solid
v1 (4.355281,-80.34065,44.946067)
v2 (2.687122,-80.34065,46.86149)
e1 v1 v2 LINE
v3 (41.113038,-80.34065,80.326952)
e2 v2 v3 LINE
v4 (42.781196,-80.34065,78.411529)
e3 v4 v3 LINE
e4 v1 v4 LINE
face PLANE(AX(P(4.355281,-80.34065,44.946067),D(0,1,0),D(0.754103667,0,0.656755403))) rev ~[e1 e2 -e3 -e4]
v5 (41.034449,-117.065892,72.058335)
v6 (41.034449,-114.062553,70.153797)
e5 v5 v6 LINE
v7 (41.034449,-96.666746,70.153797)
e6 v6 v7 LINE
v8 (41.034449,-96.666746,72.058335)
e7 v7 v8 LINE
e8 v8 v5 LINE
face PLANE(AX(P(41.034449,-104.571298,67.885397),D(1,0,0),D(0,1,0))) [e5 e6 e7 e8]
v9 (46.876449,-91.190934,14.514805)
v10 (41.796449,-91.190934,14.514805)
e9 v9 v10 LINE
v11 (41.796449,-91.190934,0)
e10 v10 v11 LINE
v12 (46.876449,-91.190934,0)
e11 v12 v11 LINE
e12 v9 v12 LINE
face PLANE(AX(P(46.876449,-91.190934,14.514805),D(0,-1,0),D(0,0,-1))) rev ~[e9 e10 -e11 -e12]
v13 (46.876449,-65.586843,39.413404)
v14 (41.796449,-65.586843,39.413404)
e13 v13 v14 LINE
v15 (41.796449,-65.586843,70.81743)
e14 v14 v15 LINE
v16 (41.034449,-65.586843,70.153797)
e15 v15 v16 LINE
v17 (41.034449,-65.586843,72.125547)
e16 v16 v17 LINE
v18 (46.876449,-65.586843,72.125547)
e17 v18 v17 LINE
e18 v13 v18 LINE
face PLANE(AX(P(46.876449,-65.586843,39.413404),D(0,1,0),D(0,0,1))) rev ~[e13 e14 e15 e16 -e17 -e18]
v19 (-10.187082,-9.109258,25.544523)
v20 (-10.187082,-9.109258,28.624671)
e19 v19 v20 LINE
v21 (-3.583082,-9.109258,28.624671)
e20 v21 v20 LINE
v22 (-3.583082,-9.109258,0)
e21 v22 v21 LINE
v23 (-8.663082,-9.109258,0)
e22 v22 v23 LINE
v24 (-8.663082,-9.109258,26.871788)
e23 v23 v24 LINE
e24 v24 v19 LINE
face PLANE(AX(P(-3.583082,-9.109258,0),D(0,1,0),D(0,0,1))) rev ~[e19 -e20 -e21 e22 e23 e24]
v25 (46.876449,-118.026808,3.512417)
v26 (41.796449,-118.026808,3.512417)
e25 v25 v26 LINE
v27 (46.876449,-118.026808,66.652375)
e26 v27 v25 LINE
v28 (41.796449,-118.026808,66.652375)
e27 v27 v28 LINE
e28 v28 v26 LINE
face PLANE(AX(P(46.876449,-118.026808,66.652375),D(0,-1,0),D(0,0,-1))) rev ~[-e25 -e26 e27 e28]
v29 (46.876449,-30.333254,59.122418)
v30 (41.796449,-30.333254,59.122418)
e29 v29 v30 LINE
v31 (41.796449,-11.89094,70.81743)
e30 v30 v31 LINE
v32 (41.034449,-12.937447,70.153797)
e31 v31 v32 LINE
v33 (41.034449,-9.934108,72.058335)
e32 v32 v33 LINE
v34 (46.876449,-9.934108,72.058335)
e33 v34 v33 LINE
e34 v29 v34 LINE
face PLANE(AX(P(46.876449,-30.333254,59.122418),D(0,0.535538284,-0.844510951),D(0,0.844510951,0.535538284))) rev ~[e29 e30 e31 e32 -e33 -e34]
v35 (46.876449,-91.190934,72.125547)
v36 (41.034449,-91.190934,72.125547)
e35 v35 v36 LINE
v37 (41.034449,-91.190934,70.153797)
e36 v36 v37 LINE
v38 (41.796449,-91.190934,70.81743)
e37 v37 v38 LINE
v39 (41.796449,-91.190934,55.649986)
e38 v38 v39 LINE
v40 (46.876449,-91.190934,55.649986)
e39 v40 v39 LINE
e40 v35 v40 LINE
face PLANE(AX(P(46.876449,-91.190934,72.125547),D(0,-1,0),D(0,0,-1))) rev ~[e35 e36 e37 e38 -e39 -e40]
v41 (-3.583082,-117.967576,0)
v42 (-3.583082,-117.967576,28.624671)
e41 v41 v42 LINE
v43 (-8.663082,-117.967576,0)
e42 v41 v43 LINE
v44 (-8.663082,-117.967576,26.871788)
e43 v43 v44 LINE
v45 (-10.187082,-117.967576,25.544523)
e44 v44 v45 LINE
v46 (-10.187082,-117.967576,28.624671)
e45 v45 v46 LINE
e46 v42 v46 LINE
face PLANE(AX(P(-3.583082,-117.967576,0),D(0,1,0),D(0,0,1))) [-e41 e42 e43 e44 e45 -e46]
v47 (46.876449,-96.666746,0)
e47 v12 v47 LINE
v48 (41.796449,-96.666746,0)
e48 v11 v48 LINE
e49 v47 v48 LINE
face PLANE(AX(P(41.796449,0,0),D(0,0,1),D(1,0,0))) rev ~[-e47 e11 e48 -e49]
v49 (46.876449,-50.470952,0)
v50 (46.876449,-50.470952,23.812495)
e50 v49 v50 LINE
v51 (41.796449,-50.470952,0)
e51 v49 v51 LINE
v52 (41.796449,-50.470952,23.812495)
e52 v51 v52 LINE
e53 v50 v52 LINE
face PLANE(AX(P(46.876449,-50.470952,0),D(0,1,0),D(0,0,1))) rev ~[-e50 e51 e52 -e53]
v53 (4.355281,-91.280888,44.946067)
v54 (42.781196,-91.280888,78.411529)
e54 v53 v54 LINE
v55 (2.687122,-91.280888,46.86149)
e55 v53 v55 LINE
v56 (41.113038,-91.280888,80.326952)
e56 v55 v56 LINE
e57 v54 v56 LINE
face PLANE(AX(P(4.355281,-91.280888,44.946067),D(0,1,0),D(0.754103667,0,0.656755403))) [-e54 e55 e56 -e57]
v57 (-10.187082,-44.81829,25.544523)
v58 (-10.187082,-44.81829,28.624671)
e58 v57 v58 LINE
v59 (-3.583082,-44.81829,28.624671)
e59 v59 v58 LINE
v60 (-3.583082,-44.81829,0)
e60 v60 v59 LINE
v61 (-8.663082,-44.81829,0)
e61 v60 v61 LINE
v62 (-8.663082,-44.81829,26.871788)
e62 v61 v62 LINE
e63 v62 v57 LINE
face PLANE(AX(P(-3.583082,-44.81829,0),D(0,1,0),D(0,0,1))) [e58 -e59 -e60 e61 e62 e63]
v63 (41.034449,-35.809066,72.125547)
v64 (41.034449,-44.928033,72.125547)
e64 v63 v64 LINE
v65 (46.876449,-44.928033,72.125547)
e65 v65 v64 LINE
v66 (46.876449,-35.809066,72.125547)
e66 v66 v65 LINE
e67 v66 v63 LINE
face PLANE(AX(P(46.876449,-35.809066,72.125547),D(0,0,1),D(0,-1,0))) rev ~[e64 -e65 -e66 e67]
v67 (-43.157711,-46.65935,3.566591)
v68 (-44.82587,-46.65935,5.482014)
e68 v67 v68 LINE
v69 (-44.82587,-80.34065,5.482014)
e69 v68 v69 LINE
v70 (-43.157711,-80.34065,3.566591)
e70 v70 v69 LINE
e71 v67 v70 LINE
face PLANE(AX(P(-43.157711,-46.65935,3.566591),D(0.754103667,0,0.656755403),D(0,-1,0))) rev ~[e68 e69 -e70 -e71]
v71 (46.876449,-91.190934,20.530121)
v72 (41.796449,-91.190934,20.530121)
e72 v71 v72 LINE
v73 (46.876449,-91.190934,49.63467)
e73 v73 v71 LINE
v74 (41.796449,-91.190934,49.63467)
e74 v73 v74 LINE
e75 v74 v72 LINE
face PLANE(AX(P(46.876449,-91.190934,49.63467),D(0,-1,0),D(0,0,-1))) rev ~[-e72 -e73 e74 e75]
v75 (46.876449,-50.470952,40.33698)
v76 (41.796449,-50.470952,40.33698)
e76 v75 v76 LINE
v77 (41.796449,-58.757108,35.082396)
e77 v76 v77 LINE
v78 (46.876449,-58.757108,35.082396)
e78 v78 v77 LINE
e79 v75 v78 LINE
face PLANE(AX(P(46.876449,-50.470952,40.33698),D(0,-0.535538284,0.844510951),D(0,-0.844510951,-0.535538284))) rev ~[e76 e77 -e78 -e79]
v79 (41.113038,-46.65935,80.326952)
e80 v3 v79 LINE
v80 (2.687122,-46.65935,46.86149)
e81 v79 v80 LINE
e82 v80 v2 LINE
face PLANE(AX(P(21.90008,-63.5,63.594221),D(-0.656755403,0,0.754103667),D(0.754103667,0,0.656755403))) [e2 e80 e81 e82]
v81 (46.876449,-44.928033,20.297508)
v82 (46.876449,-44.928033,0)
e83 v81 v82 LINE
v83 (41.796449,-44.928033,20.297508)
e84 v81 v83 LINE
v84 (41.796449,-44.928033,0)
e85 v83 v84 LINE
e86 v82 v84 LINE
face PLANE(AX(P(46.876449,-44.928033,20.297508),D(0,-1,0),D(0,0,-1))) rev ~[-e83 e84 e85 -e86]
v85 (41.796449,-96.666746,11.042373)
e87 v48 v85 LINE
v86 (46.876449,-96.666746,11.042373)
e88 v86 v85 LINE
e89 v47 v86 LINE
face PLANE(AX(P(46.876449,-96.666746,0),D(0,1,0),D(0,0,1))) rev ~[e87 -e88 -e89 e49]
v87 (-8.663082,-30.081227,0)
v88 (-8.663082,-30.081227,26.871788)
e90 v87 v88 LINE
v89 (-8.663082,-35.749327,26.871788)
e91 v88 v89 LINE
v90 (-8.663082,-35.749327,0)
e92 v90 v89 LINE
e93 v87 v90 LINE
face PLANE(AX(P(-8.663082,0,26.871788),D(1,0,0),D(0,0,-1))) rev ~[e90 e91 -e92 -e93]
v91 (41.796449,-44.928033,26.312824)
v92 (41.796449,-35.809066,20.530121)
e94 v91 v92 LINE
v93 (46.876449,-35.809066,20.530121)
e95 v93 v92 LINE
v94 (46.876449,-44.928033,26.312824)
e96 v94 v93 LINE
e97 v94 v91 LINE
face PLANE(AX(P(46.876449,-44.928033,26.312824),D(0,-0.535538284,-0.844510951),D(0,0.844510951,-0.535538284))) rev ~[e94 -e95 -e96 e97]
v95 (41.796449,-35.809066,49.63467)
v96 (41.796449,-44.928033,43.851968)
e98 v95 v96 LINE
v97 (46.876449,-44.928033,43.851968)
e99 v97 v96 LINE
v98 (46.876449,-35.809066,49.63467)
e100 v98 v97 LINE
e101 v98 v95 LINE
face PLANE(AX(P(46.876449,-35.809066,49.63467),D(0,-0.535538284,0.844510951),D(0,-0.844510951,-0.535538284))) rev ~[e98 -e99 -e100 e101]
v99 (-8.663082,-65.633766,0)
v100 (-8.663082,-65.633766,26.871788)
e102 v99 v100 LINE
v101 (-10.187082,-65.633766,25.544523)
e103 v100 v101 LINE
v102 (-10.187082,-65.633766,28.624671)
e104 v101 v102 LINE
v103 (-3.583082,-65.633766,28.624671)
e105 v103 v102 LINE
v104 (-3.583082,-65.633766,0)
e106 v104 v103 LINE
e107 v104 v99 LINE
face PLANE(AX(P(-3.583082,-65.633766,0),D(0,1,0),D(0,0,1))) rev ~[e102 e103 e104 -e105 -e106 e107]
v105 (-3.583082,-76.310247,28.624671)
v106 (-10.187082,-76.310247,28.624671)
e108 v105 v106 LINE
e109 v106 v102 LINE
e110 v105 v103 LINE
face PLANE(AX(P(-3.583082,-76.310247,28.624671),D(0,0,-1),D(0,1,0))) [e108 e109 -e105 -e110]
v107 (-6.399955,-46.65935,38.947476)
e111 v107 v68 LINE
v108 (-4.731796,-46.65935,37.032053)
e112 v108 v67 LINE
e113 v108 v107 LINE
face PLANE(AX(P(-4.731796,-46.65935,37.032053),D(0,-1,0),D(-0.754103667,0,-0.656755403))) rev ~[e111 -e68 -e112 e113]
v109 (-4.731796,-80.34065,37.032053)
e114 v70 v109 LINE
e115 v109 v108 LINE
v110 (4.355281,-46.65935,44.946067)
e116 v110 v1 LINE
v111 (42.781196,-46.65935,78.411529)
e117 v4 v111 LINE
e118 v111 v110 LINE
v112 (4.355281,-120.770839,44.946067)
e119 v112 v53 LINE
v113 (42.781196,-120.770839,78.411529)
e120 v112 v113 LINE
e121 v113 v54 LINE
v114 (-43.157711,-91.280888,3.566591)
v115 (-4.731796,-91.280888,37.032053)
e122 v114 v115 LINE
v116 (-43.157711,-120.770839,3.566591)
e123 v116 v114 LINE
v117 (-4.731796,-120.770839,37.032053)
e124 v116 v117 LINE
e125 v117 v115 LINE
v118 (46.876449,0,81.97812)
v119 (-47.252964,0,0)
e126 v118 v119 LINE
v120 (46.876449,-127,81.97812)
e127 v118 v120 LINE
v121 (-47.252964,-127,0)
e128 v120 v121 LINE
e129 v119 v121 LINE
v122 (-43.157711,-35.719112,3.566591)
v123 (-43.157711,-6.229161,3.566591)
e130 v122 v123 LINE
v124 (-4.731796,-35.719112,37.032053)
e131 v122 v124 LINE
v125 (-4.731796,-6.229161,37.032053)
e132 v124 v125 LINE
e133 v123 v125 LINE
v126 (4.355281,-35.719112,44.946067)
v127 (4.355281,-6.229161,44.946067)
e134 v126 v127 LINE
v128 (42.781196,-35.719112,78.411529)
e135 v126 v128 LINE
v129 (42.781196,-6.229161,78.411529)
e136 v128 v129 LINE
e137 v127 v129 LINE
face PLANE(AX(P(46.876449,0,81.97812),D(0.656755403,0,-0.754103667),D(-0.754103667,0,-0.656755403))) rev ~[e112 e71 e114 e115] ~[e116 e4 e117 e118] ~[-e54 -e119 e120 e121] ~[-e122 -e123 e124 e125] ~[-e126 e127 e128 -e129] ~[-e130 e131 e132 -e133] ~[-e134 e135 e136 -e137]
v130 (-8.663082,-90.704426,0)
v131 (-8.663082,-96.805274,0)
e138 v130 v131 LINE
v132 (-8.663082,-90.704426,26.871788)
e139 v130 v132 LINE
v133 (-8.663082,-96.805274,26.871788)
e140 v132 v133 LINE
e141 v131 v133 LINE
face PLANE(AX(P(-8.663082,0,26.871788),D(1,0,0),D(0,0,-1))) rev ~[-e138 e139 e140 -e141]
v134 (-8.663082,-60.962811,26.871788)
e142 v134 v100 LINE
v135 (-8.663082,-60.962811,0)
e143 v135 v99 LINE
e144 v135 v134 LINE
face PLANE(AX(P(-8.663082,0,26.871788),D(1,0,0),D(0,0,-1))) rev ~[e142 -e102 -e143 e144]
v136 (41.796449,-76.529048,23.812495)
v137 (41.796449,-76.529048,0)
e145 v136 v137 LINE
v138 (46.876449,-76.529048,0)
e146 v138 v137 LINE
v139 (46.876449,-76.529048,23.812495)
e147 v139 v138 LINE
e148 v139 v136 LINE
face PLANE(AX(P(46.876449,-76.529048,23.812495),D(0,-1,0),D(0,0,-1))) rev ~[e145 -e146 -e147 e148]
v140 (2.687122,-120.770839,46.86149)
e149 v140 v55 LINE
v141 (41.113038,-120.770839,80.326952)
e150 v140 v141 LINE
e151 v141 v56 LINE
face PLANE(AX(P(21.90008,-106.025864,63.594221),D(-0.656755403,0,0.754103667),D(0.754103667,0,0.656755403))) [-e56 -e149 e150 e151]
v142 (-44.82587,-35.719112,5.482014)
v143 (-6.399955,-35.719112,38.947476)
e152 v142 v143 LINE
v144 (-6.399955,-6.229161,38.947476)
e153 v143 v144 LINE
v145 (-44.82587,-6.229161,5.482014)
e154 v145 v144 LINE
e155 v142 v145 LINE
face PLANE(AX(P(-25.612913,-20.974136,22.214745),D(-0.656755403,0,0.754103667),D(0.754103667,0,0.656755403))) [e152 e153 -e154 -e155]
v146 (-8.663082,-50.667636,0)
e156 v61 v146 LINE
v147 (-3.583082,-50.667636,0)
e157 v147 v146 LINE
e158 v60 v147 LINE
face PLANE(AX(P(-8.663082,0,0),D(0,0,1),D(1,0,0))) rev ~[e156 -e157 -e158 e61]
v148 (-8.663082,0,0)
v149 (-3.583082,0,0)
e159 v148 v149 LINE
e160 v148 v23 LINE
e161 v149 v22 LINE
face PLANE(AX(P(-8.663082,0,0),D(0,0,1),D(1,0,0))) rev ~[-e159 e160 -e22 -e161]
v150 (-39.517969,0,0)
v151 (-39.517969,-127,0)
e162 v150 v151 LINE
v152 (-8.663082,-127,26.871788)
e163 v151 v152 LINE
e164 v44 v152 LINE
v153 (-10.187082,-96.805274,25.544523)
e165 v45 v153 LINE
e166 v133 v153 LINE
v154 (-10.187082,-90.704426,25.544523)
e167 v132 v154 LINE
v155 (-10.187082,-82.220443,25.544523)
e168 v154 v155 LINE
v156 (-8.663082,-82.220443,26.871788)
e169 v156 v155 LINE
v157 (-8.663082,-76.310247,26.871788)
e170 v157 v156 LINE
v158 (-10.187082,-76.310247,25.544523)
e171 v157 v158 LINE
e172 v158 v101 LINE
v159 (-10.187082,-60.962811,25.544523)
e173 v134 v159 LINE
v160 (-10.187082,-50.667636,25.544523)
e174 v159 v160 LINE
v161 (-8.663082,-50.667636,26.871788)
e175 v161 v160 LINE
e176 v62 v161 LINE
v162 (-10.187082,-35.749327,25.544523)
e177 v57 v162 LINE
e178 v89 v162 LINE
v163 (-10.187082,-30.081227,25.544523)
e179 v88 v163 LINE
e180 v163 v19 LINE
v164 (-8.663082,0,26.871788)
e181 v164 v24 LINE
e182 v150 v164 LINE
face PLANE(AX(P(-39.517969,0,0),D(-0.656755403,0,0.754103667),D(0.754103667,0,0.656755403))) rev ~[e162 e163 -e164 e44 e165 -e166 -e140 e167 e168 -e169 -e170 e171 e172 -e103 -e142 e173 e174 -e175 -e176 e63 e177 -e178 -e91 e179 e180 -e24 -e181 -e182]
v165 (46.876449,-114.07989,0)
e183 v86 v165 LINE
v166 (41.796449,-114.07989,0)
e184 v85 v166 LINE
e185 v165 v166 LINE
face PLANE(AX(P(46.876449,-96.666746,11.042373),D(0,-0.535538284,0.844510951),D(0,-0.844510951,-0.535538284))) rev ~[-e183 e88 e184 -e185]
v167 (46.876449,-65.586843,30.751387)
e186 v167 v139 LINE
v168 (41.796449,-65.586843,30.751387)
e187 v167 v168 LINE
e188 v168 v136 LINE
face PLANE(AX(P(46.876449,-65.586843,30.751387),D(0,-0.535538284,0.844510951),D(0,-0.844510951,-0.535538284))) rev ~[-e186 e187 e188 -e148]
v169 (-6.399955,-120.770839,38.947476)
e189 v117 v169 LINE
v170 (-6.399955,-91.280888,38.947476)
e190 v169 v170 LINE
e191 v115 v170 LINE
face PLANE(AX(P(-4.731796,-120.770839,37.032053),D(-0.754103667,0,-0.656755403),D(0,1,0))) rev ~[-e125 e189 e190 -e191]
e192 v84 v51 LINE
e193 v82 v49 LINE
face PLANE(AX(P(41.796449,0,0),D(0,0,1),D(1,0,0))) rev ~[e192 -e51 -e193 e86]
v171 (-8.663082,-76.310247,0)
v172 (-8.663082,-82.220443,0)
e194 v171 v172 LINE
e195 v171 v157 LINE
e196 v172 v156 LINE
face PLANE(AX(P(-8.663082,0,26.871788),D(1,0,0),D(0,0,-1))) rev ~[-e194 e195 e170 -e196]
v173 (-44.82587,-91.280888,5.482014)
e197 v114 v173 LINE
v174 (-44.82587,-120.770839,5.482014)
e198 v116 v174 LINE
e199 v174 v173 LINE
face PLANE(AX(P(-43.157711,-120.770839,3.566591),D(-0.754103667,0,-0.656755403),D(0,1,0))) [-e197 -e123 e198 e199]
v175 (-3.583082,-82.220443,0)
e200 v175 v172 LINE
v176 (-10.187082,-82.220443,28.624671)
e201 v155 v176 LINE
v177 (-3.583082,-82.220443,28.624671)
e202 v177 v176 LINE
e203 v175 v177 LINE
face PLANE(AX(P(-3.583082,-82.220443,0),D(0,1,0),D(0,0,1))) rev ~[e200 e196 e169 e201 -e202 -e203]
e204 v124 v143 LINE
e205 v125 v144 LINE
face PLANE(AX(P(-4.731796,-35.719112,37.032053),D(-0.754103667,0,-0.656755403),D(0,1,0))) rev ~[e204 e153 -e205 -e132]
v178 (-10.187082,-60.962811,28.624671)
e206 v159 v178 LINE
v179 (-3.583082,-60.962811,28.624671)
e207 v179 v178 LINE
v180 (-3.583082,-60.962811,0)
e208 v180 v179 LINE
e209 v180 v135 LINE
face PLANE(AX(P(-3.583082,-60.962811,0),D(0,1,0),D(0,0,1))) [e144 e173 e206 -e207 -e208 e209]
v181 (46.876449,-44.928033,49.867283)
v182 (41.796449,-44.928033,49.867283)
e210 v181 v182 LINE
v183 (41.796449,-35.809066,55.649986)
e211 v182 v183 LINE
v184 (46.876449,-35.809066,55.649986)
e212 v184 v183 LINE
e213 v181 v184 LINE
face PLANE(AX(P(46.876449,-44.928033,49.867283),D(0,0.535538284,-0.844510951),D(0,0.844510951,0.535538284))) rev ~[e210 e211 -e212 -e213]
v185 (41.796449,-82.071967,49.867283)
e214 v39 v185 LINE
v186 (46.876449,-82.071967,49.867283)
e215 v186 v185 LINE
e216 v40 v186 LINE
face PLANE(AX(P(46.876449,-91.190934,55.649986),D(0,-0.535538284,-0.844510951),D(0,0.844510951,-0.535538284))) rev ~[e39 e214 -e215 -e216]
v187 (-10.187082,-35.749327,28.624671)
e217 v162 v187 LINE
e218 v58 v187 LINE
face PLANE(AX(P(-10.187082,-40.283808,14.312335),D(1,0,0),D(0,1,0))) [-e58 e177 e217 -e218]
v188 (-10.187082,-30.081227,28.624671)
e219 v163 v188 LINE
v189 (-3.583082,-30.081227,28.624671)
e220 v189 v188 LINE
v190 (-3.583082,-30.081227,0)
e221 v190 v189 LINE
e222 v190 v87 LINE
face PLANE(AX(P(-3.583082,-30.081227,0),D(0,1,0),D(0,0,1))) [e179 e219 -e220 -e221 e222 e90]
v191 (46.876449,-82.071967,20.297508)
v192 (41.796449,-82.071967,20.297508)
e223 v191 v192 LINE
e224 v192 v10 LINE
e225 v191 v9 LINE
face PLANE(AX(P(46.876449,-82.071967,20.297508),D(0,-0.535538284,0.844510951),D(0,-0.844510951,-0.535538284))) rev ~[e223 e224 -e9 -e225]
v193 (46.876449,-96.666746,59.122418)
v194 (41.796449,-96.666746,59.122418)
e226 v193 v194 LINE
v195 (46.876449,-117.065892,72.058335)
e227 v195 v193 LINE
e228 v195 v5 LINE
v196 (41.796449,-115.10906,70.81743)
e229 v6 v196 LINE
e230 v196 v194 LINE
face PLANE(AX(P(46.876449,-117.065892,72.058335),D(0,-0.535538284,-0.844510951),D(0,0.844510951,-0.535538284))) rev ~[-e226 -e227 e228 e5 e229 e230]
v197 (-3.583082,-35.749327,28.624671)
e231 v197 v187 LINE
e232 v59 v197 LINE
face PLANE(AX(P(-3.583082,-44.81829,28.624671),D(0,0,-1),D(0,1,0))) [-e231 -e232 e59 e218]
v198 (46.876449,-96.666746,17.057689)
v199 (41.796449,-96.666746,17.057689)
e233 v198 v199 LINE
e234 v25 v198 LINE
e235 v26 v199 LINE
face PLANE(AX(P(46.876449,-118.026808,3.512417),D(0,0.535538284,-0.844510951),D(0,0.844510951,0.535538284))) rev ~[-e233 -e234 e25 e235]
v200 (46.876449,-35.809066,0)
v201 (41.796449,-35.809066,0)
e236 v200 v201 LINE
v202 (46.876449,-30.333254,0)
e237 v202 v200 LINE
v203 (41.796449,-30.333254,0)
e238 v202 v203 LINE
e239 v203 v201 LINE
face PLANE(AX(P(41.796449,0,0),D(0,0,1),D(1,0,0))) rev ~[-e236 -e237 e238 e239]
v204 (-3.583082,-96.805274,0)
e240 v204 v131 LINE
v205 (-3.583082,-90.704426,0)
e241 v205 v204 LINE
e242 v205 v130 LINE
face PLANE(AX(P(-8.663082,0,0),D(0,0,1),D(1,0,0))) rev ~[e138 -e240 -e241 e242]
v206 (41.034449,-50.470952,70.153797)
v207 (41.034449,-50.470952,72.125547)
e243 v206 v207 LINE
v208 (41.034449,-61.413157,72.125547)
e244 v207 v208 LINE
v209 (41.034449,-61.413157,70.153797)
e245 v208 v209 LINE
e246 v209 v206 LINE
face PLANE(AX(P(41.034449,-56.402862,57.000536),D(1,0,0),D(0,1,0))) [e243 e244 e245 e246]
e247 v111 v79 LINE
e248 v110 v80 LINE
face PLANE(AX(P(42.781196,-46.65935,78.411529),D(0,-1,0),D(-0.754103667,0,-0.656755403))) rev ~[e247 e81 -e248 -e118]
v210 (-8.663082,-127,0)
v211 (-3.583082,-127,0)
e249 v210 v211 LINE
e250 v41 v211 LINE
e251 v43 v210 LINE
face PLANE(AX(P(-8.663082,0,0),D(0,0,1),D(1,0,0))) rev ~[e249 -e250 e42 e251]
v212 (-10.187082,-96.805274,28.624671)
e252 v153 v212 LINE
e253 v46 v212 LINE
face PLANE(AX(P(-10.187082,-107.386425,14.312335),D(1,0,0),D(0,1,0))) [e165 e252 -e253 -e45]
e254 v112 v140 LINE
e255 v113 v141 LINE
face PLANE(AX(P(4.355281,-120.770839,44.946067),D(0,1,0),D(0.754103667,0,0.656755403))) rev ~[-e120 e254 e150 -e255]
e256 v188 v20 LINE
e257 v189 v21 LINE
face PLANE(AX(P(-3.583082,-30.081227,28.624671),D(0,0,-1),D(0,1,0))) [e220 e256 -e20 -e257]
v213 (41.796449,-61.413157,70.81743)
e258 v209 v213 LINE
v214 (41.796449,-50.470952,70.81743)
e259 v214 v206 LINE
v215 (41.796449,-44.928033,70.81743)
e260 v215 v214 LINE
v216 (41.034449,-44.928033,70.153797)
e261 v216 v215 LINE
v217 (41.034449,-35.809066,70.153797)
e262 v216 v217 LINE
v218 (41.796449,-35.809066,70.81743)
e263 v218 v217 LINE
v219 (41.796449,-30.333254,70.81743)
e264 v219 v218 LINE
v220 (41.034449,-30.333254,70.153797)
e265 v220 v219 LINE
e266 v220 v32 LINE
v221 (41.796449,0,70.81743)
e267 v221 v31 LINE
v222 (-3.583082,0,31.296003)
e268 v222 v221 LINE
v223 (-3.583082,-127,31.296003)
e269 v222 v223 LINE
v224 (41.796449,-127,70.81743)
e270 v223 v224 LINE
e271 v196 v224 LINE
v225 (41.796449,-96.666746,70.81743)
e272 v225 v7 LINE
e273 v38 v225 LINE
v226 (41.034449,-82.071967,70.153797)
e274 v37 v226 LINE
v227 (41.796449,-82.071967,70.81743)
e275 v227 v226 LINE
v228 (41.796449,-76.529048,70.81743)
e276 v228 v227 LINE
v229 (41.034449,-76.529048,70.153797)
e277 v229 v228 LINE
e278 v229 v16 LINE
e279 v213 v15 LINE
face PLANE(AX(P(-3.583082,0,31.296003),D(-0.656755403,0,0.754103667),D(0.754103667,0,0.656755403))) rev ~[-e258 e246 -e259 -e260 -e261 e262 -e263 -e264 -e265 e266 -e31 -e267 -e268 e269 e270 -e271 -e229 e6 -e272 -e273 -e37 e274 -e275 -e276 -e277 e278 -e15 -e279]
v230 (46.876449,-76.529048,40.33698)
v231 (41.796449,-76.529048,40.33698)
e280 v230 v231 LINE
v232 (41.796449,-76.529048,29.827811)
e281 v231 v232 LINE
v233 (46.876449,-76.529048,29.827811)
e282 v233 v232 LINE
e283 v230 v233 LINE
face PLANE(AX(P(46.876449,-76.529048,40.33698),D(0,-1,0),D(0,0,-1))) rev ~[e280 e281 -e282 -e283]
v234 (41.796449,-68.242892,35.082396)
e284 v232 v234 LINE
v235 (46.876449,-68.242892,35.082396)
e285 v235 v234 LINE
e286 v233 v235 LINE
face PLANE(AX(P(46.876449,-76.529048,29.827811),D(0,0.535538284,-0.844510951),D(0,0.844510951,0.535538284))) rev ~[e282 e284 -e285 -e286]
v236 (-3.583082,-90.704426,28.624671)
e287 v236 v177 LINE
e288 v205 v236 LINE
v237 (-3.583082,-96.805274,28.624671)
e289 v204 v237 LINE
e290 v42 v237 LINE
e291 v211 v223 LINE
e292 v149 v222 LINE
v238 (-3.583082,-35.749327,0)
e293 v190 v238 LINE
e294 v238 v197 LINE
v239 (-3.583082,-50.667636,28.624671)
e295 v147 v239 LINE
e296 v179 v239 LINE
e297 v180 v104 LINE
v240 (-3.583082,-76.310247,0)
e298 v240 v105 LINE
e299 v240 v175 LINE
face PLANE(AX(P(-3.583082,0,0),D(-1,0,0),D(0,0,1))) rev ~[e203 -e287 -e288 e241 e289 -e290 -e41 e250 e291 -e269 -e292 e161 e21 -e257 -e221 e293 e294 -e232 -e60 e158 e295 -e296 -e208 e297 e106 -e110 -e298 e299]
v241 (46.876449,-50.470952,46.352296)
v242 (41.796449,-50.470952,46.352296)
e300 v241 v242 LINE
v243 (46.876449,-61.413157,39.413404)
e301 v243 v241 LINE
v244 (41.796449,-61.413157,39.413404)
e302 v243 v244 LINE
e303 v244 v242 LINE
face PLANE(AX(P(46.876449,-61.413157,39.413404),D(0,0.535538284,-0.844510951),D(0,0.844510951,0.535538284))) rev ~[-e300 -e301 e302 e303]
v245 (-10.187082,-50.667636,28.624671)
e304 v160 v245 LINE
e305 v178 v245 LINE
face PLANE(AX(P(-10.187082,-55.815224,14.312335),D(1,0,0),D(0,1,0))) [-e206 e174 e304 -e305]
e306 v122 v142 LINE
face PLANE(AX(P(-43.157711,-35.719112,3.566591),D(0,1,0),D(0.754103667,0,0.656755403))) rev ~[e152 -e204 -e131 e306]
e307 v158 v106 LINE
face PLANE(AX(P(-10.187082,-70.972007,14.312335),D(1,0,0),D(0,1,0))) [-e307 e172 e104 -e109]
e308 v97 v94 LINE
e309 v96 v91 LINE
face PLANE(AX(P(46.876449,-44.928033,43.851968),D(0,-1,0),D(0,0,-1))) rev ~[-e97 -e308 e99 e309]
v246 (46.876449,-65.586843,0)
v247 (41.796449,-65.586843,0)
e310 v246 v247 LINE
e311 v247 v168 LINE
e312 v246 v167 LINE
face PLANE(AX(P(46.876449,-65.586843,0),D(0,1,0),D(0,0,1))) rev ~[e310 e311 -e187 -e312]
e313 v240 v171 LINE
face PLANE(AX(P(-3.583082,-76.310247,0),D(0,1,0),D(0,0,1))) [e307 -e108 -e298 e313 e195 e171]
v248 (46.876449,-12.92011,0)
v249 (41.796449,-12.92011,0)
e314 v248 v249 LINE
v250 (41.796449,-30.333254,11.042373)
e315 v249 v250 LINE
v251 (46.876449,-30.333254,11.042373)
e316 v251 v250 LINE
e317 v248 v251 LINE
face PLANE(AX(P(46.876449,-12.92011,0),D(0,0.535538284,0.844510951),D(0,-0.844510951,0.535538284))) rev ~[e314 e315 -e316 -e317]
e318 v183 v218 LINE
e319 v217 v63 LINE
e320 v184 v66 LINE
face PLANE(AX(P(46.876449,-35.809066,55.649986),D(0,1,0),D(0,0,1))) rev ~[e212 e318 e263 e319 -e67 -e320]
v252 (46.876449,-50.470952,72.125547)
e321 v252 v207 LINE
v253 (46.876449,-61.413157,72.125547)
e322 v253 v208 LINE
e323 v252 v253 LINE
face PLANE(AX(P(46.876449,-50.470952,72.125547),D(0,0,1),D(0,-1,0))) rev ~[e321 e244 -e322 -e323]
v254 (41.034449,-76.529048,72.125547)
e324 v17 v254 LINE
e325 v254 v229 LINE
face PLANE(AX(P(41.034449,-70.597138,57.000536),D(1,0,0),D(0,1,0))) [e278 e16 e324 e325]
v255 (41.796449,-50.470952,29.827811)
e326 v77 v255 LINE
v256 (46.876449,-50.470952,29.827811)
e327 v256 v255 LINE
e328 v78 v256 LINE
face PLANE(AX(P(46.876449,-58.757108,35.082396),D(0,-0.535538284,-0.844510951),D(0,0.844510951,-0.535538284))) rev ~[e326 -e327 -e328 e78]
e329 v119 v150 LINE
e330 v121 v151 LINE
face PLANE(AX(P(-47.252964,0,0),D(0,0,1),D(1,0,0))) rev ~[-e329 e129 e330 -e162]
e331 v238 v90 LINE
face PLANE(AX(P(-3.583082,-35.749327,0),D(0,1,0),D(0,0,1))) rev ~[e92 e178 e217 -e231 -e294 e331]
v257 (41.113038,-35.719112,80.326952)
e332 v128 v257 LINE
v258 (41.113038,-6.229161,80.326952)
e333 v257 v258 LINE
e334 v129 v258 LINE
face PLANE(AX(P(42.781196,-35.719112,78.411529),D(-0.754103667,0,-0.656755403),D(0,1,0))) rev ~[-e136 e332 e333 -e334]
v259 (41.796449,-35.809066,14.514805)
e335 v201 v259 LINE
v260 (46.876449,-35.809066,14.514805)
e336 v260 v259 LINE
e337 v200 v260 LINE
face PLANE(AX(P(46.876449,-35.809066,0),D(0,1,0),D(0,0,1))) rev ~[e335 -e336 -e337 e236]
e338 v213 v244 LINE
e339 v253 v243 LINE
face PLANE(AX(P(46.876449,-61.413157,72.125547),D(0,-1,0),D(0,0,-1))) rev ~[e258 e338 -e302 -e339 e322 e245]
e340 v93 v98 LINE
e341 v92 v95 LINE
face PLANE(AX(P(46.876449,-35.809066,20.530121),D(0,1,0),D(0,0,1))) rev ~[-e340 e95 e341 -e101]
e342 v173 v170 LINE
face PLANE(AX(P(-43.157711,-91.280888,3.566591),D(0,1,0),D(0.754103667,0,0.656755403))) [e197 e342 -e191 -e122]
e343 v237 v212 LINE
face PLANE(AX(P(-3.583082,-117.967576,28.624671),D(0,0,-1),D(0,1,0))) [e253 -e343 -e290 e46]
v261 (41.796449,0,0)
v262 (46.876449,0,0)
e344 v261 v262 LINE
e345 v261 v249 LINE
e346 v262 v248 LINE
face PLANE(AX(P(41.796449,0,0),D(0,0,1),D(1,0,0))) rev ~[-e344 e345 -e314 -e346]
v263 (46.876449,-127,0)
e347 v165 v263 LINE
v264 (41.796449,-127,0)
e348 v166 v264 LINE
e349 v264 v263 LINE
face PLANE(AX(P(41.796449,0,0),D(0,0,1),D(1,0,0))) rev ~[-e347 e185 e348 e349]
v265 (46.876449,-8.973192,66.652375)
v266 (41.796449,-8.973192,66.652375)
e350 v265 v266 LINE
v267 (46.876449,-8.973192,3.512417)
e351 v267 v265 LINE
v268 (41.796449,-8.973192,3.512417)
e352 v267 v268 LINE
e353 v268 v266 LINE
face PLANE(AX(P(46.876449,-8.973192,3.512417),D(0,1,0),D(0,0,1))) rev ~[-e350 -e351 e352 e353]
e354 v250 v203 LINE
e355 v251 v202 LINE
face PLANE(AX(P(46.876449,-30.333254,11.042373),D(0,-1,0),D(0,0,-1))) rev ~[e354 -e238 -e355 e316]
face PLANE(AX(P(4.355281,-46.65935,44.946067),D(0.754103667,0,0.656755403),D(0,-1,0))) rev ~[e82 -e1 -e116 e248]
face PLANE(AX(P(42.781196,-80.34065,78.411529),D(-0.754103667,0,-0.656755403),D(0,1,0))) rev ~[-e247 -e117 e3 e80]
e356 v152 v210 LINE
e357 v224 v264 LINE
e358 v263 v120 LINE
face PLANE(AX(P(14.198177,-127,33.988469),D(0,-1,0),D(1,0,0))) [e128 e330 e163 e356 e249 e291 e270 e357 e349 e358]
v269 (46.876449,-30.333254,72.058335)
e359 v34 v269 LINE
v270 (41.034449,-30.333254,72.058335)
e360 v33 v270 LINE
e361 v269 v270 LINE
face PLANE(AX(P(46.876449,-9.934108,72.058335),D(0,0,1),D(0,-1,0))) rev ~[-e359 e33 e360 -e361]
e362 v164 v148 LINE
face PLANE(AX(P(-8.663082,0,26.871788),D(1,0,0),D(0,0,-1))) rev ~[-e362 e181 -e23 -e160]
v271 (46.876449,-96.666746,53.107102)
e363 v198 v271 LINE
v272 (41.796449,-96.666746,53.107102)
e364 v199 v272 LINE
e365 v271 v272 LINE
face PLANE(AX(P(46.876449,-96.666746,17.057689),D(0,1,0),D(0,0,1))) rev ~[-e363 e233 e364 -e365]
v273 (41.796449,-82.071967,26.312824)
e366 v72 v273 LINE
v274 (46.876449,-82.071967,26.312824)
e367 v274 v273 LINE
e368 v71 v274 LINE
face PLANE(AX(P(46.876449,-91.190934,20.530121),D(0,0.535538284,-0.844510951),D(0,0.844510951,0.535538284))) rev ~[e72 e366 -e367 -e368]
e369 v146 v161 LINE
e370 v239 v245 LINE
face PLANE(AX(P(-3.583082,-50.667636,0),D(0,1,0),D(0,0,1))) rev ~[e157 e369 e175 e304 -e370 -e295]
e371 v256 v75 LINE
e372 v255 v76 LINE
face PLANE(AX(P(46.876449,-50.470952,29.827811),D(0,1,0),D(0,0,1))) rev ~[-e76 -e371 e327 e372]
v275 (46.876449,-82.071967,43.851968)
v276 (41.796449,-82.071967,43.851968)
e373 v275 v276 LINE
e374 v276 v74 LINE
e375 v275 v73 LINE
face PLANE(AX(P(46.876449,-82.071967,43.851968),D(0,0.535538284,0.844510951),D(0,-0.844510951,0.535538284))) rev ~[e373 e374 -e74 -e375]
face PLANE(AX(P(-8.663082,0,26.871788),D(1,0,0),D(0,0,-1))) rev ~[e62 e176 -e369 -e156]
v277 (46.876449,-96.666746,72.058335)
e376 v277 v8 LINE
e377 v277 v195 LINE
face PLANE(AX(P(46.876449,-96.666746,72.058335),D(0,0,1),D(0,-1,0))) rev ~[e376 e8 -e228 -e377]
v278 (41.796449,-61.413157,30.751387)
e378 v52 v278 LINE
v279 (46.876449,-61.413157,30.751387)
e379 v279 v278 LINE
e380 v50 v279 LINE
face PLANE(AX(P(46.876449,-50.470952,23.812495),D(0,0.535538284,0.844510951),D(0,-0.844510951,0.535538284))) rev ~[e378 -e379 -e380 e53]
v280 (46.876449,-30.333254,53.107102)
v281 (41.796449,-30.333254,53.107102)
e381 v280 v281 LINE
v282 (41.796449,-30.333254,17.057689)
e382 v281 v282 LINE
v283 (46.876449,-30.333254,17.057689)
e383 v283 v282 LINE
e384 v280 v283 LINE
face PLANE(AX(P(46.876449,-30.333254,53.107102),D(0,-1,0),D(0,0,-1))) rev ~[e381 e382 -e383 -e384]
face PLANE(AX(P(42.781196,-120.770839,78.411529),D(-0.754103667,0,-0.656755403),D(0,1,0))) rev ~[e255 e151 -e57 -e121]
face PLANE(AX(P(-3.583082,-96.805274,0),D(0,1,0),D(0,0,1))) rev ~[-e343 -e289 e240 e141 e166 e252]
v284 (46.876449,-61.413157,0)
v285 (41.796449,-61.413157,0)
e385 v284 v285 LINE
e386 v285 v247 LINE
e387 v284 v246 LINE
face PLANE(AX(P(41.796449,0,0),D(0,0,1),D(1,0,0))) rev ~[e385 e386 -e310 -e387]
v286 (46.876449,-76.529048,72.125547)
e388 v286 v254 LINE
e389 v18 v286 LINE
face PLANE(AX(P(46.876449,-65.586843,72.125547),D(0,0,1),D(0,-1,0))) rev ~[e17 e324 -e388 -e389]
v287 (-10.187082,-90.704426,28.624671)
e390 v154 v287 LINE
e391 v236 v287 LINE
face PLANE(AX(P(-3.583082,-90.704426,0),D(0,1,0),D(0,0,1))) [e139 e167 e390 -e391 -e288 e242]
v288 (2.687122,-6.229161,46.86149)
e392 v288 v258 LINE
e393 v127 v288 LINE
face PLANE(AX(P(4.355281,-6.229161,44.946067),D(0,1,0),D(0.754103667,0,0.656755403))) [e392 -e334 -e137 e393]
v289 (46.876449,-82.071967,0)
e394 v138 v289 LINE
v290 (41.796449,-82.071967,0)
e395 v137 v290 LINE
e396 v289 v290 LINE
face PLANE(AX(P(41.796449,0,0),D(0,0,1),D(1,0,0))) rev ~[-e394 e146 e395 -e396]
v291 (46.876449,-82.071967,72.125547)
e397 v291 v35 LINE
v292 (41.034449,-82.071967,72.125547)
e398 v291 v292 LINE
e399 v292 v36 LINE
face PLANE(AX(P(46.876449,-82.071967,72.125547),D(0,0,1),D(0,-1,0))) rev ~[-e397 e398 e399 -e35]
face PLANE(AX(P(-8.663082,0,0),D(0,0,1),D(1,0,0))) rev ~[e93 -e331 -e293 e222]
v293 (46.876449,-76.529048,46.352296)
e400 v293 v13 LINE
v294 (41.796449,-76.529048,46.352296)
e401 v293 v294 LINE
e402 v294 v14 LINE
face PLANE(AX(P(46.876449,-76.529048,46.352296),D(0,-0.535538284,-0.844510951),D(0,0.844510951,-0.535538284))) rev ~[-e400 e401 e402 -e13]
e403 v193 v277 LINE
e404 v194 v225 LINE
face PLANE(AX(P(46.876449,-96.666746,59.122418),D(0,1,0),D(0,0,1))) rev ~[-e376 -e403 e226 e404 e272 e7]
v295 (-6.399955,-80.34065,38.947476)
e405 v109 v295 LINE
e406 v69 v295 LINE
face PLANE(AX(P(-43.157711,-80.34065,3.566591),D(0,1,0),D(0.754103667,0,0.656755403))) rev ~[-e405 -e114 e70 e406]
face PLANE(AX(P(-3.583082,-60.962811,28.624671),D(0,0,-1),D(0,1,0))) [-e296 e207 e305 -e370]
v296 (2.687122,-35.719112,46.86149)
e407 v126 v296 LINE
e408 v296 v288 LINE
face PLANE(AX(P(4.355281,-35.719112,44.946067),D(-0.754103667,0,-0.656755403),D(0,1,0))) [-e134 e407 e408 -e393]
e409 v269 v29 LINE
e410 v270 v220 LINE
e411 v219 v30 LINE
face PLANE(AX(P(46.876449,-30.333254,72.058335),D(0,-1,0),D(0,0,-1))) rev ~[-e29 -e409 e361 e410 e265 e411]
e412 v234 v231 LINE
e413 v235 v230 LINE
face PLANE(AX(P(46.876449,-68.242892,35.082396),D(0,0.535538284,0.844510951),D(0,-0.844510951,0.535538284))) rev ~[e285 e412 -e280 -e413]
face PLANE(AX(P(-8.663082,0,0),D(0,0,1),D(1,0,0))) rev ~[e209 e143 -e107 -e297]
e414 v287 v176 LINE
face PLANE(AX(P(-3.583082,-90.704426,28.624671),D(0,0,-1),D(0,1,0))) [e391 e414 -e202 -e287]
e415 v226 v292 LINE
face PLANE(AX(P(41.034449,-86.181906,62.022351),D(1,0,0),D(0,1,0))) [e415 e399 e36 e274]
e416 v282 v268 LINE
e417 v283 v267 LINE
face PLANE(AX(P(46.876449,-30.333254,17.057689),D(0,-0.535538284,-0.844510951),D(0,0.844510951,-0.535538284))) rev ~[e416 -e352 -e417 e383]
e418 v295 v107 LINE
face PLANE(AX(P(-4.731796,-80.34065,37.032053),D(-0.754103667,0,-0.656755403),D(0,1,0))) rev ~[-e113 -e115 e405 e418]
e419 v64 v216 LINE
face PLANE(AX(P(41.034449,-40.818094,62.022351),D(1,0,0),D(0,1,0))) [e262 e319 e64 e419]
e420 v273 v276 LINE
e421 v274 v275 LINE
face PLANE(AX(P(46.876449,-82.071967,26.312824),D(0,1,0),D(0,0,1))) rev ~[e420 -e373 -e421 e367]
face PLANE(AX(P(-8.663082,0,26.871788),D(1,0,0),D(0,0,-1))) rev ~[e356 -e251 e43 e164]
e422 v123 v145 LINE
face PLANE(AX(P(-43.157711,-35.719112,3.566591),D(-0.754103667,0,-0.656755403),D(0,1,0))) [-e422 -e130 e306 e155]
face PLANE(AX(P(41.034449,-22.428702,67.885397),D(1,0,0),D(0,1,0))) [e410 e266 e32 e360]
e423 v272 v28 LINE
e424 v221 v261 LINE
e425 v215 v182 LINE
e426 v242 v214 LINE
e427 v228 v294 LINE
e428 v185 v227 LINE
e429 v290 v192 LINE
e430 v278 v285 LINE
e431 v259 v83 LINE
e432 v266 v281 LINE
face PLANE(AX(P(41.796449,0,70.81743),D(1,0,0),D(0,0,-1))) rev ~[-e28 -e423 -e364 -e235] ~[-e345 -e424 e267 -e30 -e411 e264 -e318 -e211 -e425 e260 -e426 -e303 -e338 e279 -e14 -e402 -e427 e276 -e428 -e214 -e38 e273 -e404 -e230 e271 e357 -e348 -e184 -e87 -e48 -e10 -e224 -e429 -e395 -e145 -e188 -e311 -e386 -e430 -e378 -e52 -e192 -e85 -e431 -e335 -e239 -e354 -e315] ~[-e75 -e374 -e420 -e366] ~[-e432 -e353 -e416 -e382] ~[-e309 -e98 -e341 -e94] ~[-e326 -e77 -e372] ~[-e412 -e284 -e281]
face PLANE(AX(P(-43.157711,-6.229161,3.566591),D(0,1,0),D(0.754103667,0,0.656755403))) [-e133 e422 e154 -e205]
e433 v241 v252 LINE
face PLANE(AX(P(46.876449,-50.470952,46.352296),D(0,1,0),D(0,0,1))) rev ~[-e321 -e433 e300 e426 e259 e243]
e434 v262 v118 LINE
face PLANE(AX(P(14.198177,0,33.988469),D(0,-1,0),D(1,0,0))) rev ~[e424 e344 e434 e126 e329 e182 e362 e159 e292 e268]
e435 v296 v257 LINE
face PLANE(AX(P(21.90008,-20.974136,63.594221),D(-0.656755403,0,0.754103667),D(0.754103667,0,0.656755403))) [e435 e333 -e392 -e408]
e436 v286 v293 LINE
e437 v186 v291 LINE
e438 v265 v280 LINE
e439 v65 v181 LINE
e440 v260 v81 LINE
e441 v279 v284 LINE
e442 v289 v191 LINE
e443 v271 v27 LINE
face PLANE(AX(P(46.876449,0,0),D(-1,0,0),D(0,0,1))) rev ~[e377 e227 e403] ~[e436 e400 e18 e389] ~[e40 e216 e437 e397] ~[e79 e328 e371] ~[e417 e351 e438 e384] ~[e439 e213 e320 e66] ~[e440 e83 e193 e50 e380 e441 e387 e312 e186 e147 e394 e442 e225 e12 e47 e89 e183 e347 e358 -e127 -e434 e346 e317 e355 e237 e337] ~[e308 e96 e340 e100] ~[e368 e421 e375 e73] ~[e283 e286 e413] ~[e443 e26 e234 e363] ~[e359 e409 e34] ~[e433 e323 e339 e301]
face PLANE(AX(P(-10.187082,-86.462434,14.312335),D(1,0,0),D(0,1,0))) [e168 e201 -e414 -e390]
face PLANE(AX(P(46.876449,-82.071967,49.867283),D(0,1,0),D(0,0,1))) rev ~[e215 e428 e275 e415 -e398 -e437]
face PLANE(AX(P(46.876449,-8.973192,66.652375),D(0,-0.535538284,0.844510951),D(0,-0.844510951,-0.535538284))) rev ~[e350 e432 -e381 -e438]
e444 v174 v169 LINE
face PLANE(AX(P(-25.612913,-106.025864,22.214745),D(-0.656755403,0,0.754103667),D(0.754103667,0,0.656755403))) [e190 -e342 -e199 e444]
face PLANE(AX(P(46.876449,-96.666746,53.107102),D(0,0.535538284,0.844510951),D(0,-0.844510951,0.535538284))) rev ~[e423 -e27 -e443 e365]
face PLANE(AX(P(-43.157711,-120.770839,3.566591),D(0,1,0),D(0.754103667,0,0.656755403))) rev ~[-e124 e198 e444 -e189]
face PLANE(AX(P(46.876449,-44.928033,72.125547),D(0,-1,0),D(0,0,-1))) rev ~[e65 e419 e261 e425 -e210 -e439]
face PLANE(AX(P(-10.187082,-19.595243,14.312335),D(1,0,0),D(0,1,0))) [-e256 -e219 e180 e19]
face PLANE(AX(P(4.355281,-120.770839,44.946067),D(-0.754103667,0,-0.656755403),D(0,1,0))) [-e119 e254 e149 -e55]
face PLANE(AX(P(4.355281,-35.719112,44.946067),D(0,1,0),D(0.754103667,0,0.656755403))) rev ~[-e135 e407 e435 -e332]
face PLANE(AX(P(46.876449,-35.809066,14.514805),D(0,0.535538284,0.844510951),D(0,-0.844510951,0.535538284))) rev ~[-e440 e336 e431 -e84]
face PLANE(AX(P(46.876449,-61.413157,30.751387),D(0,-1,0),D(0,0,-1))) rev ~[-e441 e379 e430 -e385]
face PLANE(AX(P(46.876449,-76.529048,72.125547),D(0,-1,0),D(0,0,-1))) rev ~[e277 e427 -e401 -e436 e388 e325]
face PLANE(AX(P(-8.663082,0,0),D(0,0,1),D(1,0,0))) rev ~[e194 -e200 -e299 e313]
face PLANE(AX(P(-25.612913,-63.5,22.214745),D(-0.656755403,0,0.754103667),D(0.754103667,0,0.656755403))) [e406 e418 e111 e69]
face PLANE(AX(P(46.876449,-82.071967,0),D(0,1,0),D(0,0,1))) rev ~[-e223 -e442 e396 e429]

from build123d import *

# Parameters (mm, degrees)
F1_DEPTH = 127
F3_DEPTH = 5.842
F5_W     = 21.162301302
F5_H     = 28.62467058
F5_W_2   = 8.4839835763
F5_W_3   = 10.6764808297
F5_W_4   = 10.2951750159
F5_W_5   = 9.0689621866
F5_W_6   = 20.9719697013
F6_DEPTH = 6.604
F7_W     = 50.9557463229
F7_H     = 29.4899502769
F8_DEPTH = 2.54


with BuildPart() as f1:
    # F0 (on Front) → F1 (new body)
    with BuildSketch(Plane.XZ):
        Polygon((46.8764491379, 81.9781199098), (-47.2529642284, 0), (-39.5179688628, 0), (-8.6630821907, 26.8717875629), (-8.6630821907, 0), (-3.5830821907, 0), (-3.5830821907, 31.2960034828), (41.7964491379, 70.817429652), (41.7964491379, 0), (46.8764491379, 0), align=None)
    extrude(amount=F1_DEPTH)

    # F2 (on face) → F3 (cut)
    with BuildSketch(Plane.YZ.offset(46.8764491379)):
        Polygon((-50.4709516168, 40.3369802166), (-58.757108451, 35.0823956511), (-50.4709516168, 29.8278110855), align=None)
        Polygon((-35.8090658188, 49.6346703711), (-44.928032577, 43.8519676127), (-44.928032577, 26.3128236894), (-35.8090658188, 20.530120931), align=None)
        Polygon((-30.3332541585, 17.0576890172), (-8.9731920958, 3.5124165006), (-8.9731920958, 66.6523748015), (-30.3332541585, 53.107102285), align=None)
        Polygon((-30.3332541585, 0), (-12.9201102982, 0), (-30.3332541585, 11.0423732976), align=None)
        Polygon((-44.928032577, 0), (-35.8090658188, 0), (-35.8090658188, 14.5148052115), (-44.928032577, 20.2975079699), align=None)
        Polygon((-61.4131574035, 30.7513871575), (-61.4131574035, 0), (-50.4709516168, 0), (-50.4709516168, 23.812495366), align=None)
        Polygon((-76.5290483832, 23.812495366), (-76.5290483832, 0), (-65.5868425965, 0), (-65.5868425965, 30.7513871575), align=None)
        Polygon((-91.1909341812, 14.5148052115), (-91.1909341812, 0), (-82.071967423, 0), (-82.071967423, 20.2975079699), align=None)
        Polygon((-96.6667458415, 11.0423732976), (-114.0798897018, 0), (-96.6667458415, 0), align=None)
        Polygon((-118.0268079042, 66.6523748015), (-118.0268079042, 3.5124165006), (-96.6667458415, 17.0576890172), (-96.6667458415, 53.107102285), align=None)
        Polygon((-82.071967423, 43.8519676127), (-91.1909341812, 49.6346703711), (-91.1909341812, 20.530120931), (-82.071967423, 26.3128236894), align=None)
        Polygon((-68.242891549, 35.0823956511), (-76.5290483832, 40.3369802166), (-76.5290483832, 29.8278110855), align=None)
        Polygon((-65.5868425965, 39.4134041447), (-65.5868425965, 72.1255466342), (-76.5290483832, 72.1255466342), (-76.5290483832, 46.3522959362), align=None)
        Polygon((-96.6667458415, 72.0583349466), (-117.0658916235, 72.0583349466), (-96.6667458415, 59.1224180045), align=None)
        Polygon((-82.071967423, 72.1255466342), (-91.1909341812, 72.1255466342), (-91.1909341812, 55.6499860907), (-82.071967423, 49.8672833323), align=None)
        Polygon((-50.4709516168, 72.1255466342), (-61.4131574035, 72.1255466342), (-61.4131574035, 39.4134041447), (-50.4709516168, 46.3522959362), align=None)
        Polygon((-35.8090658188, 72.1255466342), (-44.928032577, 72.1255466342), (-44.928032577, 49.8672833323), (-35.8090658188, 55.6499860907), align=None)
        Polygon((-30.3332541585, 59.1224180045), (-9.9341083765, 72.0583349466), (-30.3332541585, 72.0583349466), align=None)
    extrude(amount=-F3_DEPTH, mode=Mode.SUBTRACT)

    # F5 (on face) → F6 (cut)
    with BuildSketch(Plane.YZ.offset(-3.5830821907)):
        with Locations((-107.3864251375, 14.31233529)):
            Rectangle(F5_W, F5_H)
        with Locations((-86.4624343812, 14.31233529)):
            Rectangle(F5_W_2, F5_H)
        with Locations((-70.972006768, 14.31233529)):
            Rectangle(F5_W_3, F5_H)
        with Locations((-55.8152236044, 14.31233529)):
            Rectangle(F5_W_4, F5_H)
        with Locations((-40.2838084847, 14.31233529)):
            Rectangle(F5_W_5, F5_H)
        with Locations((-19.5952425711, 14.31233529)):
            Rectangle(F5_W_6, F5_H)
    extrude(amount=-F6_DEPTH, mode=Mode.SUBTRACT)

    # F7 (on face) → F8 (join)
    with BuildSketch(Plane(origin=(-20.3815104704, 0, 23.4025813987), x_dir=(0.7541036669, 0, 0.6567554032), z_dir=(-0.6567554032, 0, 0.7541036669))):
        with Locations((58.2807790488, -20.9741364233)):
            Rectangle(F7_W, F7_H)
        Polygon((83.7586522102, -63.5), (83.7586522102, -46.6593503952), (32.8029058874, -46.6593503952), (32.8029058874, -63.5), (32.8029058874, -80.3406496048), (83.7586522102, -80.3406496048), align=None)
        with Locations((58.2807790488, -106.0258635767)):
            Rectangle(F7_W, F7_H)
        with Locations((-4.7251372654, -106.0258635767)):
            Rectangle(F7_W, F7_H)
        Polygon((-30.2030104268, -46.6593503952), (-30.2030104268, -63.5), (-30.2030104268, -80.3406496048), (20.752735896, -80.3406496048), (20.752735896, -63.5), (20.752735896, -46.6593503952), align=None)
        with Locations((-4.7251372654, -20.9741364233)):
            Rectangle(F7_W, F7_H)
    extrude(amount=F8_DEPTH)


solid = f1.part
